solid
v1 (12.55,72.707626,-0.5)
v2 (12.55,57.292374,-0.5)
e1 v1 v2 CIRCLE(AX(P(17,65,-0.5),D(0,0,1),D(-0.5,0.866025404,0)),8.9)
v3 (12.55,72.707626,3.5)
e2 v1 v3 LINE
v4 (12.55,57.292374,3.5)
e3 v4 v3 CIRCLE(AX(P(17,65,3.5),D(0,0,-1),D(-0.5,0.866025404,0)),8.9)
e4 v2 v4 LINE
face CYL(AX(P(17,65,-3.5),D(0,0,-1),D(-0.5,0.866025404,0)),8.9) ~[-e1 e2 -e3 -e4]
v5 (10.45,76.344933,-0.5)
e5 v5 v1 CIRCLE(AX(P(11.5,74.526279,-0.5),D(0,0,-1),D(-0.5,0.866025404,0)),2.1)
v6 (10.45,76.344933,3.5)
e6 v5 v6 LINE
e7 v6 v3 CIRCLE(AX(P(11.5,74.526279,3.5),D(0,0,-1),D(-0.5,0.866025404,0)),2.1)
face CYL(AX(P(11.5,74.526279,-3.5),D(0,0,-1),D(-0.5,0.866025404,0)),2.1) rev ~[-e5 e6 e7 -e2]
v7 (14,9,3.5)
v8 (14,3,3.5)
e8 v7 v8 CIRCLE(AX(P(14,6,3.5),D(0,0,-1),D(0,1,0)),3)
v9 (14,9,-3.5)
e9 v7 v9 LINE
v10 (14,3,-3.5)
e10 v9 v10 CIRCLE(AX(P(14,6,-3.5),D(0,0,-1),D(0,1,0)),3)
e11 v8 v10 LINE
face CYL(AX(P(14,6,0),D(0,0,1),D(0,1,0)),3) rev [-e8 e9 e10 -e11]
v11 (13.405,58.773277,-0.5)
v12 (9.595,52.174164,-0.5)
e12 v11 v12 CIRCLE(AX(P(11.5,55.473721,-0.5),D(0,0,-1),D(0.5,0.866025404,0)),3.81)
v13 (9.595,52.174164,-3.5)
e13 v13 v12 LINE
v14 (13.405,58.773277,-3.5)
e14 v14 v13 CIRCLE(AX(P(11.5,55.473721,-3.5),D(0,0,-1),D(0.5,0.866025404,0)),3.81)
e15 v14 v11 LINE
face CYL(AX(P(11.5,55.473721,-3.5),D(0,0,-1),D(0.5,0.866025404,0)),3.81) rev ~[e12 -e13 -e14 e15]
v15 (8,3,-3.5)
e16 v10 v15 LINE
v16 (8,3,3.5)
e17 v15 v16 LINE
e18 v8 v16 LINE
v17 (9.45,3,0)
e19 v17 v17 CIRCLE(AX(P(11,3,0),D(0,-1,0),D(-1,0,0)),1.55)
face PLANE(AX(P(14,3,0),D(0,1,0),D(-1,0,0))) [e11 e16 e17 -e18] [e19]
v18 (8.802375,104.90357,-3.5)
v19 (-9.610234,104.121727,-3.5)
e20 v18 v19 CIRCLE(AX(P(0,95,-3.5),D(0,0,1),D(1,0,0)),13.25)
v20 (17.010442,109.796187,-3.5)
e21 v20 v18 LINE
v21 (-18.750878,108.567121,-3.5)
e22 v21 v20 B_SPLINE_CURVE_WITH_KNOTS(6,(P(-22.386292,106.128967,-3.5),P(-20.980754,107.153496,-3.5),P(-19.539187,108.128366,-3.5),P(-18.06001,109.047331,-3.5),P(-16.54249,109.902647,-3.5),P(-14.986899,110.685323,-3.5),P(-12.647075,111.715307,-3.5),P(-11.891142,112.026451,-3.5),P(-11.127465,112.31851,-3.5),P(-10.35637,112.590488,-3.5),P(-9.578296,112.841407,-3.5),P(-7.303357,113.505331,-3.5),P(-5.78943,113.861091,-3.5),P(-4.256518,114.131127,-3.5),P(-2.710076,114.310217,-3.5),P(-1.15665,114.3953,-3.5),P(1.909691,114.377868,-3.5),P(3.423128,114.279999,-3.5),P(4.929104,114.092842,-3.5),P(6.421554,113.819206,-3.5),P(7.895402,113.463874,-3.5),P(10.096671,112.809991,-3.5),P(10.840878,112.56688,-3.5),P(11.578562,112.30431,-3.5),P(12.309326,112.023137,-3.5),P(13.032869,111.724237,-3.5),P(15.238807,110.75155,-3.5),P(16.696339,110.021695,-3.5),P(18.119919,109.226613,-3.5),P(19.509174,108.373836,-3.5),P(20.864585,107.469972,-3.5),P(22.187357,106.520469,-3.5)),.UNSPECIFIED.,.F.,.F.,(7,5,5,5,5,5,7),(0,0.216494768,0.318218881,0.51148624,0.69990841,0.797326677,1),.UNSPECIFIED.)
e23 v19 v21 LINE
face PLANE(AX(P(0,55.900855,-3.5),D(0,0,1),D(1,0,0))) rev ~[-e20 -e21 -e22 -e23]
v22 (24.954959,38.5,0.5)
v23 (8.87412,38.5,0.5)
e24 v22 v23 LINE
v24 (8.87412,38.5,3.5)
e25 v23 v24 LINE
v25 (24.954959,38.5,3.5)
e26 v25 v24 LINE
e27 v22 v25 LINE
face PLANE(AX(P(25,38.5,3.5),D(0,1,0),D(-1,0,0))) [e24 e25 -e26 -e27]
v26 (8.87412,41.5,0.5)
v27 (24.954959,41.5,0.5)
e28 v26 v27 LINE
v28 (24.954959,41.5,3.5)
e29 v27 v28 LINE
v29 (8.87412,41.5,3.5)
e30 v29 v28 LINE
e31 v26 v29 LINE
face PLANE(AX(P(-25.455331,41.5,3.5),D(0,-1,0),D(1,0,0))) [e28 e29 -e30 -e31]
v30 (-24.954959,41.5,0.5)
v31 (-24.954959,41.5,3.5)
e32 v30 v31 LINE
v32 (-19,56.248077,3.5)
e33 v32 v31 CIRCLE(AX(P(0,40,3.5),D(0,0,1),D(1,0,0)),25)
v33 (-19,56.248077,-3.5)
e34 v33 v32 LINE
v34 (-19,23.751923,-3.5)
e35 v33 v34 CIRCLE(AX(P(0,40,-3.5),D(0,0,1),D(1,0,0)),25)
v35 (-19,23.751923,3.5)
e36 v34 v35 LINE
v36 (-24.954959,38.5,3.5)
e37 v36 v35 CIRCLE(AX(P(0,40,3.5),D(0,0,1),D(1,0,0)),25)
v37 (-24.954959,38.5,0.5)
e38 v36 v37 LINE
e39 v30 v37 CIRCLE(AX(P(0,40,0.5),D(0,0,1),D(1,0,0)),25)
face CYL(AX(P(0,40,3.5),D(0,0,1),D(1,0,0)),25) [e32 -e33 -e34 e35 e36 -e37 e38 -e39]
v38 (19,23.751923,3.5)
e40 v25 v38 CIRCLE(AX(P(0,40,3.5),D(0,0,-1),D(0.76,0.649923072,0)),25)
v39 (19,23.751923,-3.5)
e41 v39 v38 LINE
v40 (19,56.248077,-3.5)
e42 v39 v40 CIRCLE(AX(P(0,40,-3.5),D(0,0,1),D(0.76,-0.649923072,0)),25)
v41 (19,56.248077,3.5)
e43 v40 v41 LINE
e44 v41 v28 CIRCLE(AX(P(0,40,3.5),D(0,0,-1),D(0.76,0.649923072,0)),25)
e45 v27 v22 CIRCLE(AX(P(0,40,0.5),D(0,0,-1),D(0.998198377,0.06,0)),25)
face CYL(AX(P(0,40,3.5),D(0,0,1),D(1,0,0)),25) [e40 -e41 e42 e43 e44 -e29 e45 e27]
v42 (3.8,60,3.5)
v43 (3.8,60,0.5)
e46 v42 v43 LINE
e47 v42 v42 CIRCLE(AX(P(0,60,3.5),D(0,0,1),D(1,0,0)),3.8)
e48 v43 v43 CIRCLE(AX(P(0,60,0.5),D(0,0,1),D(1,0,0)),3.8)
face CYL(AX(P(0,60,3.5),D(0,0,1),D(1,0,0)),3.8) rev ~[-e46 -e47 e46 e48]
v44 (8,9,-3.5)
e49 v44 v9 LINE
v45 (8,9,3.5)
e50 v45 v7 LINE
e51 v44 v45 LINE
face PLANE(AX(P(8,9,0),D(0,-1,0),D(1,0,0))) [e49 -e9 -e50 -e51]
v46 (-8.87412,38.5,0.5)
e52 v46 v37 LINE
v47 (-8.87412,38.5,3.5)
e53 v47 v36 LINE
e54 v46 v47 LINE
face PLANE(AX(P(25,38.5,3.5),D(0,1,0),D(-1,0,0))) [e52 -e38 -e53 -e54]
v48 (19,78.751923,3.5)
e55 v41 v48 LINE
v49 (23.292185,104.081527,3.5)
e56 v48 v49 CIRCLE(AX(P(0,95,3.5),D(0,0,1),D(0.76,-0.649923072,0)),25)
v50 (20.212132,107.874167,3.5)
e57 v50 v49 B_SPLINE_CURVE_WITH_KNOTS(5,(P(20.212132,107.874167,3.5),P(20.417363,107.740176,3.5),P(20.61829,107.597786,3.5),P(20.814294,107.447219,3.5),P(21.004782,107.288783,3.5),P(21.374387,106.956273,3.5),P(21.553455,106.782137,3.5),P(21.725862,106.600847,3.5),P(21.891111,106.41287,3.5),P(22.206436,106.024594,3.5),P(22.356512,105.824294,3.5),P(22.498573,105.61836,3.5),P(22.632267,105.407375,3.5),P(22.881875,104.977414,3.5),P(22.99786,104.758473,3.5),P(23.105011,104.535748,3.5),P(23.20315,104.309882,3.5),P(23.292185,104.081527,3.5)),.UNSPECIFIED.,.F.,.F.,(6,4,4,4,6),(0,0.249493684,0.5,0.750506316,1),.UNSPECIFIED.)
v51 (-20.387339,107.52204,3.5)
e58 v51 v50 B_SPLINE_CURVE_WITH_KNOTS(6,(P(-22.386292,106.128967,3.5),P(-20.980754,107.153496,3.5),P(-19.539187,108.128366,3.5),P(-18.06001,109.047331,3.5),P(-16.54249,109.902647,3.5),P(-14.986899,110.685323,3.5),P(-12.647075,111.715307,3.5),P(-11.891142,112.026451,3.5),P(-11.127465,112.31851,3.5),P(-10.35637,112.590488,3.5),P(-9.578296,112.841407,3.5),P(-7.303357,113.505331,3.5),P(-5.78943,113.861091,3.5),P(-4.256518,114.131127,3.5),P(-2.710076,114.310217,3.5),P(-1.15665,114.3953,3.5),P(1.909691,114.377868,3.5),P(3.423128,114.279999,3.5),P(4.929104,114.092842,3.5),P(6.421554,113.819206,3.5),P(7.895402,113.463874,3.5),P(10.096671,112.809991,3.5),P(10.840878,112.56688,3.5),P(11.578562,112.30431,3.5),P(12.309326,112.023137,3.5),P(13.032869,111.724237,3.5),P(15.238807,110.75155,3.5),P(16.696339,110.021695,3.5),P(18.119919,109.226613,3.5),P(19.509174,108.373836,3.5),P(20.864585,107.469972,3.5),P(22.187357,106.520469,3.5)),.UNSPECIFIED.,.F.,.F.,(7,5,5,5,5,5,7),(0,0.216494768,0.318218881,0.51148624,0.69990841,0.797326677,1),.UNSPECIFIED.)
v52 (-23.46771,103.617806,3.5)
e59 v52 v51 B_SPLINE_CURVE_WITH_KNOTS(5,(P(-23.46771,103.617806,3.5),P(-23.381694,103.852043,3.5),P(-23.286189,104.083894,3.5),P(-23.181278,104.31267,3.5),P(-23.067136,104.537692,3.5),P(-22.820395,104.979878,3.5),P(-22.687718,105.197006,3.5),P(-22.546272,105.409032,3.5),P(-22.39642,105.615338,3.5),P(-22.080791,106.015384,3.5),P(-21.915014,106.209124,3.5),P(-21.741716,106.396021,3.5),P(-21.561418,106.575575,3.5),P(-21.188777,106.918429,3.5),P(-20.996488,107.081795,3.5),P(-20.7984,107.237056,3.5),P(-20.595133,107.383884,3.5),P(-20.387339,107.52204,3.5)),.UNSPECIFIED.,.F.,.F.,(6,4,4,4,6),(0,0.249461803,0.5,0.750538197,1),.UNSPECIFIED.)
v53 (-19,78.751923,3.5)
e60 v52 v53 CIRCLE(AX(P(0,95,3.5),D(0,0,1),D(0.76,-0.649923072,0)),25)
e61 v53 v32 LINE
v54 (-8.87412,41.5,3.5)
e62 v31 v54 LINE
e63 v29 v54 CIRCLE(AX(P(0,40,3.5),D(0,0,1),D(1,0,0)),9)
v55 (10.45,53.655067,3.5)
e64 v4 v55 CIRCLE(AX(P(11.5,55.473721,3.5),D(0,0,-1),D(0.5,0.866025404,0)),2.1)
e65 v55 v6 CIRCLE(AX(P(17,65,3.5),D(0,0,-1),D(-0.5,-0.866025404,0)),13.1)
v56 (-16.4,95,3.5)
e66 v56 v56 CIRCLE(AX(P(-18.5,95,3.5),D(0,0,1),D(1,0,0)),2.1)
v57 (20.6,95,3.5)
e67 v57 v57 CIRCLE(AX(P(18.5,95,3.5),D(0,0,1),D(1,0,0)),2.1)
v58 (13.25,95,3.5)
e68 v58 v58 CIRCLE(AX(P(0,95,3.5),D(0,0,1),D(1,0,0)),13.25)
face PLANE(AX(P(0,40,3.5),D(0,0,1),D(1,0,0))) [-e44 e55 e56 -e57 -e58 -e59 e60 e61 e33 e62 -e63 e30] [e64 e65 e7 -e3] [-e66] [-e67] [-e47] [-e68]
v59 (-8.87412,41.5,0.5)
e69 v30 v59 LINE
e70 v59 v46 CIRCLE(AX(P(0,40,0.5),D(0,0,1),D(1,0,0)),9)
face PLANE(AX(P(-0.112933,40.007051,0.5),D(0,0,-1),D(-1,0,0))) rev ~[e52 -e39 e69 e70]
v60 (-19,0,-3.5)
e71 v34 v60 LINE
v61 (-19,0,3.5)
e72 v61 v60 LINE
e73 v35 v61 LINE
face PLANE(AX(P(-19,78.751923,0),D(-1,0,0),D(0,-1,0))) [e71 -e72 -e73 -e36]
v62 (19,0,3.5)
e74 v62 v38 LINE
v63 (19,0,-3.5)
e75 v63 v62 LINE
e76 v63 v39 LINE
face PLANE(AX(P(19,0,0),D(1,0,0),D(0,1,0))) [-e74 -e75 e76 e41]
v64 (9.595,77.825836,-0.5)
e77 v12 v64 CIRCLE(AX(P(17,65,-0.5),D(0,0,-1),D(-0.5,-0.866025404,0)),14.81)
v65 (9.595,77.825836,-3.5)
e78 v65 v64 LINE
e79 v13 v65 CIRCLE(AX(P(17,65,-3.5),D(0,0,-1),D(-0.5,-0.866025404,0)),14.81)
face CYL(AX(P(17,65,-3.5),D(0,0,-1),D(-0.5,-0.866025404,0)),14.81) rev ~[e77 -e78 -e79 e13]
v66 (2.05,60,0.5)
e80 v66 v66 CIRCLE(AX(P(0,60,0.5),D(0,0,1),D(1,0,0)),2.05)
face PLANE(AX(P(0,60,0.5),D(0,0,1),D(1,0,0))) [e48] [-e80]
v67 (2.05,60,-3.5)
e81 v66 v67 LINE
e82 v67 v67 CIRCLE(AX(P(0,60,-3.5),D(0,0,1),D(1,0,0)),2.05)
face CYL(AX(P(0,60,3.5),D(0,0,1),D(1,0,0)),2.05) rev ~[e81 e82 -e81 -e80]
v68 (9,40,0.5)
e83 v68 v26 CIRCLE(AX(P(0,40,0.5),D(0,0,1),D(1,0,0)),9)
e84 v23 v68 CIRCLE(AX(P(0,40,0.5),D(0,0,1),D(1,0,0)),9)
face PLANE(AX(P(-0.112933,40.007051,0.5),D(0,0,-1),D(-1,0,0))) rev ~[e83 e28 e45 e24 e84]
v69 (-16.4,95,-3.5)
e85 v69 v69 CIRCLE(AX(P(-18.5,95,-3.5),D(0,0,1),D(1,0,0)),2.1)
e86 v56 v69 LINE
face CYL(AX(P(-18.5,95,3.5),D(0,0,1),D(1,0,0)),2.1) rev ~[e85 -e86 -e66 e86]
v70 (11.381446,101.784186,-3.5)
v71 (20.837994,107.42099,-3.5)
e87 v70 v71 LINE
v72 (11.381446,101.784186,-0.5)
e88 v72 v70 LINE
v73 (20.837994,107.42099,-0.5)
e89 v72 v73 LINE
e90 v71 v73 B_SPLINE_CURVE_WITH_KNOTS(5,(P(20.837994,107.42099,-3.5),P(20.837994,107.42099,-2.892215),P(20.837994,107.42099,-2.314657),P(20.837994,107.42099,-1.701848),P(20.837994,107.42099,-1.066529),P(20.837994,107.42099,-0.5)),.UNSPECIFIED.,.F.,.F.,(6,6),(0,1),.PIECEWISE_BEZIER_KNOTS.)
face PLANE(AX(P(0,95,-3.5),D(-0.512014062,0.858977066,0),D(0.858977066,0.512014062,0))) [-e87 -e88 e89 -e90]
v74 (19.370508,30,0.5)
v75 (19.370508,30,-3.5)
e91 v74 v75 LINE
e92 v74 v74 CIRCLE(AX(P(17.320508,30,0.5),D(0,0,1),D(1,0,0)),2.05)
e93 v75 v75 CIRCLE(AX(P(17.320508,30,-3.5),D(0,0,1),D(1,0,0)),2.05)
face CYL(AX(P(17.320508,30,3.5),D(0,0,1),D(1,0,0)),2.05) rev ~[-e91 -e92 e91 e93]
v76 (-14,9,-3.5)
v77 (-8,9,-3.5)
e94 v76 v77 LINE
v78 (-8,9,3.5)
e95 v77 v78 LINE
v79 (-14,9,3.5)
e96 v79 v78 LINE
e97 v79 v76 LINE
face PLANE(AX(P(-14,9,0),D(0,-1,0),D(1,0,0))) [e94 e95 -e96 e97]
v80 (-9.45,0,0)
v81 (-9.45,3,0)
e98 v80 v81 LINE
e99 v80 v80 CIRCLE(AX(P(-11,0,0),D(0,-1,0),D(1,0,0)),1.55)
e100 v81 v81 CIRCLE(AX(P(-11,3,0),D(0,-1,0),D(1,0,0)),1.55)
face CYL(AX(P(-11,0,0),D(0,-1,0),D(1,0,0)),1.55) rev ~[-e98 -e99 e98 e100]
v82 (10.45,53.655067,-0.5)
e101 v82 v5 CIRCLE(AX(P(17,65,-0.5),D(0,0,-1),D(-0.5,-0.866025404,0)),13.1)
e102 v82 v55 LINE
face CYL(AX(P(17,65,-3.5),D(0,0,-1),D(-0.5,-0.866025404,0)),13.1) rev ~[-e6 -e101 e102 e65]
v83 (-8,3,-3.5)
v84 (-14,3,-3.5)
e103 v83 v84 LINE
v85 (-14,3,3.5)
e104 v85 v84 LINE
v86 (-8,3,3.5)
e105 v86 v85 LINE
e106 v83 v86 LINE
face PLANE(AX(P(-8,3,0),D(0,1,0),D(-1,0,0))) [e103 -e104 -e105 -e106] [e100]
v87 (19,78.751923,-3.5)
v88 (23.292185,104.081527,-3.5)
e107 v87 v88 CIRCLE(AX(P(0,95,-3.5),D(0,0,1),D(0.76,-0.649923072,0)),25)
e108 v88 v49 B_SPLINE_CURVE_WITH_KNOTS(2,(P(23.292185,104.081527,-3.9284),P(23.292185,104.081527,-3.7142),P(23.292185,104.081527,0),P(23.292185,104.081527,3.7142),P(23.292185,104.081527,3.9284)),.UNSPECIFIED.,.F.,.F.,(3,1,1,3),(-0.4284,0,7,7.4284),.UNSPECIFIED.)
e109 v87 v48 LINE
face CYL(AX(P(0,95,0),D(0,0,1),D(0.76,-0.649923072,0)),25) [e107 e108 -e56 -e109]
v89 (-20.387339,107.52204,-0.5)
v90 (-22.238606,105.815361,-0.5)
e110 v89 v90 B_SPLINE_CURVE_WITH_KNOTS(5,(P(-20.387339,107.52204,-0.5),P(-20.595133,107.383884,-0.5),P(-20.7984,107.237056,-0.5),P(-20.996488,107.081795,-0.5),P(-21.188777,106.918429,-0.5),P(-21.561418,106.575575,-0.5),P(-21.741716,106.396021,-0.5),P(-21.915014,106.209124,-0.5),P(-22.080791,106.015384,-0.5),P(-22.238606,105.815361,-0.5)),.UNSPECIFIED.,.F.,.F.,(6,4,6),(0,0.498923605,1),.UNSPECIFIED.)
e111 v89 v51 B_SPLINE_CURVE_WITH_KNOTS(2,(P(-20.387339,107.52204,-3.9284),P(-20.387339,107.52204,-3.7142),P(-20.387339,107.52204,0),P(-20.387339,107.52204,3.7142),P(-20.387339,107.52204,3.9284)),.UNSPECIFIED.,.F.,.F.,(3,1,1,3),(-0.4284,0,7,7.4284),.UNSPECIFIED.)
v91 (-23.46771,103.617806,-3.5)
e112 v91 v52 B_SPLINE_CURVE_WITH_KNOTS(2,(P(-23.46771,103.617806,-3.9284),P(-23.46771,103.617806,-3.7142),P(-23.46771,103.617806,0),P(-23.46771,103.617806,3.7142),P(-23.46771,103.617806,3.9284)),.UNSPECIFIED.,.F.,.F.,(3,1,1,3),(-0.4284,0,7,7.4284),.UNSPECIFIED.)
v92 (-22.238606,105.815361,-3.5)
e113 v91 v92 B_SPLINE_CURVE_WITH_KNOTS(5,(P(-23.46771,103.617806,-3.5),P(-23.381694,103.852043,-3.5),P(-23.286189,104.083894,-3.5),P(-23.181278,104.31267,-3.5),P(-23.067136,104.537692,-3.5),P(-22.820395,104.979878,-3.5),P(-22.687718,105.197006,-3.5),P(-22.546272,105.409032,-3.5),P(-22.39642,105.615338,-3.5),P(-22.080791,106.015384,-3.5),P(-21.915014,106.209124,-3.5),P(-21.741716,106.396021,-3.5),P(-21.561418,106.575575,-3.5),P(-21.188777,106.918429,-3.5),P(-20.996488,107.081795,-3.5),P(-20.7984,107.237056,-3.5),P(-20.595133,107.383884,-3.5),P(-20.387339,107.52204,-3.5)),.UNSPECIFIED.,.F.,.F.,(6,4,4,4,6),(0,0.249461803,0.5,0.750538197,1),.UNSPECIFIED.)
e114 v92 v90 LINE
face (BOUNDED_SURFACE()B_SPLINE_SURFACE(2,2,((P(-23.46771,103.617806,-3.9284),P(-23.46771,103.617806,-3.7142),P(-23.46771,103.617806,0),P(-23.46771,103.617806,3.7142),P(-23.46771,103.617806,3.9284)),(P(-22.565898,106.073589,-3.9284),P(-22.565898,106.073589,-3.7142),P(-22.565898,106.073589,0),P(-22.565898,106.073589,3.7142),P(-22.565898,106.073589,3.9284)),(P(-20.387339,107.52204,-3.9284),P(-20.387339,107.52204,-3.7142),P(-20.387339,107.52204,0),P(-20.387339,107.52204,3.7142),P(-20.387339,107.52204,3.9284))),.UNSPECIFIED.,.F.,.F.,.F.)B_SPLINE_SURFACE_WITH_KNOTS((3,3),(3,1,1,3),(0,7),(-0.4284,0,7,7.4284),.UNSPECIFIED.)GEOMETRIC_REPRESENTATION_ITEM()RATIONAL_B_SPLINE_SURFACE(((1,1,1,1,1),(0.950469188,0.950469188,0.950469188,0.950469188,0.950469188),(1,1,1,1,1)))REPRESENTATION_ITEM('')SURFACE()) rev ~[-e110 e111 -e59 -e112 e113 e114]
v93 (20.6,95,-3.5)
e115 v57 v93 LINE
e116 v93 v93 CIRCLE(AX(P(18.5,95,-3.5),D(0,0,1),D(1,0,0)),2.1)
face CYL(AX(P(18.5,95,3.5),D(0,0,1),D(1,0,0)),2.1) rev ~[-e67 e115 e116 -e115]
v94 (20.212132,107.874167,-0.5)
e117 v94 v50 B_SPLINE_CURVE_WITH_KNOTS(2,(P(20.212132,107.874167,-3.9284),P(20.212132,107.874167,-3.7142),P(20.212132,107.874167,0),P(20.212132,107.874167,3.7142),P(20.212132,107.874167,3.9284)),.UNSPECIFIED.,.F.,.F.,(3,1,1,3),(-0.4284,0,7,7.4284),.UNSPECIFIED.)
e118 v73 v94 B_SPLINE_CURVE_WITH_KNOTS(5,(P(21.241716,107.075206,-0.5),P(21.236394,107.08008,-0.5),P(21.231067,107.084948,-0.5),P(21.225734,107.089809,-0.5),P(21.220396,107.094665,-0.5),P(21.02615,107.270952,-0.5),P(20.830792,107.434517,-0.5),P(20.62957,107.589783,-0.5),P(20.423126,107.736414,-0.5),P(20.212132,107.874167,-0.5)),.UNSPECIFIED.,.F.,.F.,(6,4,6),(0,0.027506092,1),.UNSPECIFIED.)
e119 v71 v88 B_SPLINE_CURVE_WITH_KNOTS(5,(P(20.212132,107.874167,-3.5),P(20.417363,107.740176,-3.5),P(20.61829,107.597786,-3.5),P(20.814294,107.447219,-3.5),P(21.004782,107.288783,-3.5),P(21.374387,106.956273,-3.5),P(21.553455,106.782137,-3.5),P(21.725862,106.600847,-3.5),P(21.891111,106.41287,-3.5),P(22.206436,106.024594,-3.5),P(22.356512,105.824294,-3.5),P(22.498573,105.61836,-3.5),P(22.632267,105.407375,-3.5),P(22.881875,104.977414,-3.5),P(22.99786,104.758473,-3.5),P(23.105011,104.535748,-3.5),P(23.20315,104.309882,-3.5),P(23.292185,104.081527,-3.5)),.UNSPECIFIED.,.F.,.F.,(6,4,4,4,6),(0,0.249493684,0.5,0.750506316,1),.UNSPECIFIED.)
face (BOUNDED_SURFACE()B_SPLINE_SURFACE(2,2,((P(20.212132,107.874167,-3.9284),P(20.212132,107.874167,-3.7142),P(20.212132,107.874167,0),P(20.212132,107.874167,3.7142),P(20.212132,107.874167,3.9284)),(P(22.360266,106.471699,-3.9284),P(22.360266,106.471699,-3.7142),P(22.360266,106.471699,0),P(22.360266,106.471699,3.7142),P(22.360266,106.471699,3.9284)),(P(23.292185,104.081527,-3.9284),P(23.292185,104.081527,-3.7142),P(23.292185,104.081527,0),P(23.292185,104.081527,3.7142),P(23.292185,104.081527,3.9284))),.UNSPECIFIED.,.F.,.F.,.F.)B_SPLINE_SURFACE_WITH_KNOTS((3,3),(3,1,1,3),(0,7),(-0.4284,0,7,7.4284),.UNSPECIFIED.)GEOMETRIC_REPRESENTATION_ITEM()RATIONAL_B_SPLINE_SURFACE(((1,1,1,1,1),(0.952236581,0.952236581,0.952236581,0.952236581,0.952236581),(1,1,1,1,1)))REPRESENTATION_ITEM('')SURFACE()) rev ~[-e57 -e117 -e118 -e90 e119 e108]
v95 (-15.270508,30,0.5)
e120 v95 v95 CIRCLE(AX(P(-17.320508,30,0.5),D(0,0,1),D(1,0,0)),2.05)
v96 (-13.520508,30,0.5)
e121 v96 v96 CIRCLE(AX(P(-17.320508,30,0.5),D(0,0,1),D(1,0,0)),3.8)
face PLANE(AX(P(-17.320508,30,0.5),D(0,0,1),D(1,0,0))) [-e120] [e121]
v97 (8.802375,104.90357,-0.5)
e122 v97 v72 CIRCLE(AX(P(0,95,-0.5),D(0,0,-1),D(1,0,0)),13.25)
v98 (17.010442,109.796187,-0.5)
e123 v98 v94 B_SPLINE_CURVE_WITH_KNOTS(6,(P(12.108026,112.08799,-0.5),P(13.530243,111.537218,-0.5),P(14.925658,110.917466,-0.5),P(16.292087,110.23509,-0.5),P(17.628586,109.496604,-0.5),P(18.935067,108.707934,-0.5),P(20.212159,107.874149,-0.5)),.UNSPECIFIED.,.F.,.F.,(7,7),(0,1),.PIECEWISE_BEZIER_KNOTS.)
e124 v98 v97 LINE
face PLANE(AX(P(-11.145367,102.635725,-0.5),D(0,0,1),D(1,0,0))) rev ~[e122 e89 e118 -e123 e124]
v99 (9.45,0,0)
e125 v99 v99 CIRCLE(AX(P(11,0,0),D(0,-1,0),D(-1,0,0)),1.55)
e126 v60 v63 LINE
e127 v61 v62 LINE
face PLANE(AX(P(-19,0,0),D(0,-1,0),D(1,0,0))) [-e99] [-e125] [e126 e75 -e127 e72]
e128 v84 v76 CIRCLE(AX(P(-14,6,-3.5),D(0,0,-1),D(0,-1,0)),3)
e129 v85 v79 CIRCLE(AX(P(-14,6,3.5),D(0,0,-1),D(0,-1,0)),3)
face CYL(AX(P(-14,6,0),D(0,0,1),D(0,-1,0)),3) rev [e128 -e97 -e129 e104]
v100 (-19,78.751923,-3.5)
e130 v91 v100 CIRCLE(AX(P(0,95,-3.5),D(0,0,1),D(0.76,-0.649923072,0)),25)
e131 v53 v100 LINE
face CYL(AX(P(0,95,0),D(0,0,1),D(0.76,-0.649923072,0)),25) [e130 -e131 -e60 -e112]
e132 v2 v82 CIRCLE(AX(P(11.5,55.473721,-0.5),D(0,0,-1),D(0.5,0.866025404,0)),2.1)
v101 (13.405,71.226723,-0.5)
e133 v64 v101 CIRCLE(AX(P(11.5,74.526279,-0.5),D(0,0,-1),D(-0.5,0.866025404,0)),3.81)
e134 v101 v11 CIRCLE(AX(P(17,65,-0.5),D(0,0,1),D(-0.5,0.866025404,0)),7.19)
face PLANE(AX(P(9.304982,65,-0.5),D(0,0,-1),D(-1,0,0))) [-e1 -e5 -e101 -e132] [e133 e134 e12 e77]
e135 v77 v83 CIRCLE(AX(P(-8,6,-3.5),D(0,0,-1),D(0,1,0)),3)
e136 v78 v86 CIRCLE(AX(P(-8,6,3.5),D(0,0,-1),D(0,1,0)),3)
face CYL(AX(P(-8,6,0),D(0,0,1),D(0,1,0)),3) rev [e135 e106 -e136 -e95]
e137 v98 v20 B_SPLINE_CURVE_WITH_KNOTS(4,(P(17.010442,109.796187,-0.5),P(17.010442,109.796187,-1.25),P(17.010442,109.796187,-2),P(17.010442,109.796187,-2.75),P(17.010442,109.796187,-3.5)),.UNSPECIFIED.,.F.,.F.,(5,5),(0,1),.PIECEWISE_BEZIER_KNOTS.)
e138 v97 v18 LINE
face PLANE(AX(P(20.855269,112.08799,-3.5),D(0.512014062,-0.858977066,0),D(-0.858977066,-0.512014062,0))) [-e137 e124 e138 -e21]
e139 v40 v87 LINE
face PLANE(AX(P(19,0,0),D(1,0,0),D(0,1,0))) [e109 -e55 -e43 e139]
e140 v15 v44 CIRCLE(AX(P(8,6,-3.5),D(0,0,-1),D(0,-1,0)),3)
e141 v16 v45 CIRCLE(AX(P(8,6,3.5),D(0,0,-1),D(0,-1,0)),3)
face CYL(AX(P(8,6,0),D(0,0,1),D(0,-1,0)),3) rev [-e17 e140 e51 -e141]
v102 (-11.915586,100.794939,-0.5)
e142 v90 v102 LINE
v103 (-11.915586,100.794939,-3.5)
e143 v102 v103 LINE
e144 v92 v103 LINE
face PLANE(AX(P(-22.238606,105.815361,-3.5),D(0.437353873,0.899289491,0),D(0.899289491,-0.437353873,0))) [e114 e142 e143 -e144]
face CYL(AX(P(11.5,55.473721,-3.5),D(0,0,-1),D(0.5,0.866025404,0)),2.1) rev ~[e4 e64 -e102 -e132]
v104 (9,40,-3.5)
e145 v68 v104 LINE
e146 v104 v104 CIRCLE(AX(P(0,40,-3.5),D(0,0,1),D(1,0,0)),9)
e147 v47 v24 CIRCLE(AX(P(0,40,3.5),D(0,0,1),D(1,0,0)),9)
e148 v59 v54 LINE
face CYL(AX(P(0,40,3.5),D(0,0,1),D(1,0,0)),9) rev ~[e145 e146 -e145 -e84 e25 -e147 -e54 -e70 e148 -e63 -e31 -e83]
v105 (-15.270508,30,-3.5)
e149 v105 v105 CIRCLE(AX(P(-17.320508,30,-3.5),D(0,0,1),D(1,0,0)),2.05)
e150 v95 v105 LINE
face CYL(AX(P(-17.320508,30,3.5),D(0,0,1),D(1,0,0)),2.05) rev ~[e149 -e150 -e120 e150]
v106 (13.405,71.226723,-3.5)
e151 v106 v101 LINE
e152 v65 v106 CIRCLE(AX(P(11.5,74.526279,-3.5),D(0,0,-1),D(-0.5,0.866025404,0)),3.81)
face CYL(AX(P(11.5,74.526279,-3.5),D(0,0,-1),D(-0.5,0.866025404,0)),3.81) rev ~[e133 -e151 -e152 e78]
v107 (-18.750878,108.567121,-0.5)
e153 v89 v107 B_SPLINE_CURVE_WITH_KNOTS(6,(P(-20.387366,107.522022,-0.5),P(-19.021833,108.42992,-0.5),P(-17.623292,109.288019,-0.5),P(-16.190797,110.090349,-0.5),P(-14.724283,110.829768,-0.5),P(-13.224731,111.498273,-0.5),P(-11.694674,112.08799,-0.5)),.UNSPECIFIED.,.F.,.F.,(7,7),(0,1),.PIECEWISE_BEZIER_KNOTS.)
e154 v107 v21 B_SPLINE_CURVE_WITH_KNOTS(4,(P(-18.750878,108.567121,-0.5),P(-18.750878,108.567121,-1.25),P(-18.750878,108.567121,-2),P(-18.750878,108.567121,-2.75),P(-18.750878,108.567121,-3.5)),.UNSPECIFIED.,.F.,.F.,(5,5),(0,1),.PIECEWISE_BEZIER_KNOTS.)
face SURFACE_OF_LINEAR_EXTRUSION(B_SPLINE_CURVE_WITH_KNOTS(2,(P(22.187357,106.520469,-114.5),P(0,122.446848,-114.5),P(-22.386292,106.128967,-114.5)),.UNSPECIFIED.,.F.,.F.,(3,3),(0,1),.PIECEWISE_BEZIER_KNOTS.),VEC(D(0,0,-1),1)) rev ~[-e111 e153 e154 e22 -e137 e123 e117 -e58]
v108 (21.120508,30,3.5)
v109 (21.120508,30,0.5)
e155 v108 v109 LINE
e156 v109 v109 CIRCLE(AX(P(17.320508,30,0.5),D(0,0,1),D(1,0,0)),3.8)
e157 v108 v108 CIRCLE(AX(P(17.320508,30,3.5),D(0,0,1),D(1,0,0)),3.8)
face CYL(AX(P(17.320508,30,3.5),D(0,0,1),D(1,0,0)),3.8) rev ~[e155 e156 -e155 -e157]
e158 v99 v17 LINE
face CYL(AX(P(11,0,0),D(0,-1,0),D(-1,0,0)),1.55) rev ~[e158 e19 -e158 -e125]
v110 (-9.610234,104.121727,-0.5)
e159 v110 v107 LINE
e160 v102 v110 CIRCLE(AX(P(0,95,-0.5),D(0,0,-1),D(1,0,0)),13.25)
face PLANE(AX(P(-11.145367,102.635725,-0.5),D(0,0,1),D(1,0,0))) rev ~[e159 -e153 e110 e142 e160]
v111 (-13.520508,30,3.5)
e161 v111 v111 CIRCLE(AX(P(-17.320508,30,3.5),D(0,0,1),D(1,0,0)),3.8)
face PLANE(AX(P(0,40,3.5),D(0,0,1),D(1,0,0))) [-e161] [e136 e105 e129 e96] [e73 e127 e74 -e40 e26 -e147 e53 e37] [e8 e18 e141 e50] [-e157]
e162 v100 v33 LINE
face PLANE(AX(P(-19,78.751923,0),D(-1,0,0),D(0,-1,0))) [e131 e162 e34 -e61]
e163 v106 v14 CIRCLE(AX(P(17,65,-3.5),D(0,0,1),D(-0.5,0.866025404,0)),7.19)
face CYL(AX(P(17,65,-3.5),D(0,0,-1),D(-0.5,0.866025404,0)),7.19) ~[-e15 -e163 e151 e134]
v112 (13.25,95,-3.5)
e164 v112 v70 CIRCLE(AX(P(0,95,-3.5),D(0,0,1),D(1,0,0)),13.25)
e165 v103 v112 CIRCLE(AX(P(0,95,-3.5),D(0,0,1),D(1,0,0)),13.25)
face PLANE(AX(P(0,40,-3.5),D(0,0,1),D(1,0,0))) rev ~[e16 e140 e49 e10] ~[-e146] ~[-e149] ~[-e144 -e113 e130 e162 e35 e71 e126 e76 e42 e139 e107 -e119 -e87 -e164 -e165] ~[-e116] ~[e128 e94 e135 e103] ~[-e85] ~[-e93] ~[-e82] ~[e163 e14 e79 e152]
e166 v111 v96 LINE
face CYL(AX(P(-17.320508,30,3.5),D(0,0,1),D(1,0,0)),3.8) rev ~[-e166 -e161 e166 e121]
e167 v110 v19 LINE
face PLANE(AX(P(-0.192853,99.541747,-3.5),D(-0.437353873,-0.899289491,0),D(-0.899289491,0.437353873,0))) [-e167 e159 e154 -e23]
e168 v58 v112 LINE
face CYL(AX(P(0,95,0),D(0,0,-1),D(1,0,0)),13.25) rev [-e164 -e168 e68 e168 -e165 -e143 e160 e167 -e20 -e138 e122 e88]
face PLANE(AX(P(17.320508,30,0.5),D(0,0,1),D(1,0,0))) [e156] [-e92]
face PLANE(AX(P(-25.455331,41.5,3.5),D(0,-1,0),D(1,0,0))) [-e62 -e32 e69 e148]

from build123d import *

# Parameters (mm, degrees)
SKETCH_1_R          = 13.25
EXTRUDE_1_DEPTH     = 3.5
SKETCH4_R           = 1.55
CUT_EXTRUDE5_DEPTH  = 5
SKETCH_2_R          = 2.1
CUT_EXTRUDE_1_DEPTH = 10
CUT_EXTRUDE_2_DEPTH = 171.144056611
FILLET_1_R          = 8
CUT_EXTRUDE_3_DEPTH = 3
SKETCH_6_R          = 25
EXTRUDE_2_DEPTH     = 7
SKETCH_7_R          = 9
SKETCH_7_R_2        = 2.05
CUT_EXTRUDE_4_DEPTH = 30
CUT_EXTRUDE_5_DEPTH = 3
SKETCH_11_R         = 3.8
SKETCH_11_R_2       = 2.05
CUT_EXTRUDE_8_DEPTH = 3
CUT_EXTRUDE_6_DEPTH = 10
CUT_EXTRUDE_7_DEPTH = 3


with BuildPart() as part:
    # 草图1 → 凸台-拉伸1 (new, symmetric)
    with BuildSketch(Plane.XY):
        with BuildLine():
            Line((-19, 0), (19, 0))
            Line((19, 0), (19, 78.751923191))
            ThreePointArc((19, 78.751923191), (0, 120), (-19, 78.751923191))
            Line((-19, 78.751923191), (-19, 0))
        make_face()
        with BuildLine():
            ThreePointArc((-8, 9), (-5, 6), (-8, 3))
            Line((-8, 3), (-14, 3))
            ThreePointArc((-14, 3), (-17, 6), (-14, 9))
            Line((-14, 9), (-8, 9))
        make_face(mode=Mode.SUBTRACT)
        with BuildLine():
            ThreePointArc((8, 3), (5, 6), (8, 9))
            Line((8, 9), (14, 9))
            ThreePointArc((14, 9), (17, 6), (14, 3))
            Line((14, 3), (8, 3))
        make_face(mode=Mode.SUBTRACT)
        with Locations((0, 95)):
            Circle(SKETCH_1_R, mode=Mode.SUBTRACT)
    extrude(amount=EXTRUDE_1_DEPTH, both=True)

    # Sketch4 → Cut-Extrude5 (cut)
    with BuildSketch(Plane(origin=(0, 0, 0), x_dir=(-1, 0, 0), z_dir=(0, -1, 0))):
        with Locations(Location((11, 0, 0), (0, 0, 180))):
            Circle(SKETCH4_R)
        with Locations((-11, 0)):
            Circle(SKETCH4_R)
    extrude(amount=-CUT_EXTRUDE5_DEPTH, mode=Mode.SUBTRACT)

    # 草图2 → 切除-拉伸1 (cut)
    with BuildSketch(Plane.XY.offset(3.5)):
        with Locations((-18.5, 95)):
            Circle(SKETCH_2_R)
        with Locations((18.5, 95)):
            Circle(SKETCH_2_R)
    extrude(amount=-CUT_EXTRUDE_1_DEPTH, mode=Mode.SUBTRACT)

    # 草图4 → 切除-拉伸2 (cut, through all)
    with BuildSketch(Plane(origin=(0, 0, -114.5), x_dir=(-1, 0, 0), z_dir=(0, 0, -1))):
        with BuildLine():
            ThreePointArc((22.386292421, 106.128967232), (0.219572962, 119.999035736), (-22.187356595, 106.520469059))
            add(Edge.make_bspline(
                [(-22.187356595, 106.520469059), (0, 122.446847778), (22.386292421, 106.128967232)],
                knots=[0, 0, 0, 1, 1, 1], degree=2))
        make_face()
    extrude(amount=-CUT_EXTRUDE_2_DEPTH, mode=Mode.SUBTRACT)

    # 圆角1
    fillet_1_edges = [part.edges().sort_by_distance(p)[0] for p in [
        (-22.386292421, 106.128967232, 0),
        (22.187356595, 106.520469059, 0),
    ]]
    fillet(fillet_1_edges, radius=FILLET_1_R)

    # 草图5 → 切除-拉伸3 (cut)
    with BuildSketch(Plane.XY.offset(-3.5)):
        Polygon((-22.238605802, 105.815360884), (0, 95), (-0.192853393, 99.54174681), (-22.228779927, 110.258538141), align=None)
        Polygon((-0.192853393, 99.54174681), (0, 95), (21.241716437, 107.661638988), (20.855269273, 112.087989547), align=None)
    extrude(amount=CUT_EXTRUDE_3_DEPTH, mode=Mode.SUBTRACT)

    # 草图6 → 凸台-拉伸2 (add)
    with BuildSketch(Plane.XY.offset(3.5)):
        with Locations((0, 40)):
            Circle(SKETCH_6_R)
    extrude(amount=-EXTRUDE_2_DEPTH)

    # 草图7 → 切除-拉伸4 (cut)
    with BuildSketch(Plane.XY.offset(3.5)):
        with Locations((0, 40)):
            Circle(SKETCH_7_R)
        with Locations((0, 60)):
            Circle(SKETCH_7_R_2)
        with Locations((17.320508076, 30)):
            Circle(SKETCH_7_R_2)
        with Locations((-17.320508076, 30)):
            Circle(SKETCH_7_R_2)
    extrude(amount=-CUT_EXTRUDE_4_DEPTH, mode=Mode.SUBTRACT)

    # 草图8 → 切除-拉伸5 (cut)
    with BuildSketch(Plane(origin=(0, 0, 3.5), x_dir=(-1, 0, 0), z_dir=(0, 0, -1))):
        Polygon((-25, 41.5), (-25, 38.5), (24.954959427, 38.5), (25.455331414, 41.5), align=None)
    extrude(amount=CUT_EXTRUDE_5_DEPTH, mode=Mode.SUBTRACT)

    # 草图11 → 切除-拉伸8 (cut)
    # profile 1 of 3: a face of its own
    with BuildSketch(Plane.XY.offset(3.5)):
        with Locations((0, 60)):
            Circle(SKETCH_11_R)
        with Locations((0, 60)):
            Circle(SKETCH_11_R_2, mode=Mode.SUBTRACT)
    # profile 2 of 3: a face of its own
    with BuildSketch(Plane.XY.offset(3.5)):
        with Locations((-17.320508076, 30)):
            Circle(SKETCH_11_R)
        with Locations((-17.320508076, 30)):
            Circle(SKETCH_11_R_2, mode=Mode.SUBTRACT)
    # profile 3 of 3: a face of its own
    with BuildSketch(Plane.XY.offset(3.5)):
        with Locations((17.320508076, 30)):
            Circle(SKETCH_11_R)
        with Locations((17.320508076, 30)):
            Circle(SKETCH_11_R_2, mode=Mode.SUBTRACT)
    extrude(amount=-CUT_EXTRUDE_8_DEPTH, mode=Mode.SUBTRACT)

    # 草图9 → 切除-拉伸6 (cut)
    with BuildSketch(Plane(origin=(0, 0, -3.5), x_dir=(-1, 0, 0), z_dir=(0, 0, -1))):
        with BuildLine():
            ThreePointArc((-10.45, 53.65506721), (-3.9, 65), (-10.45, 76.34493279))
            ThreePointArc((-10.45, 76.34493279), (-13.318653348, 75.576279442), (-12.55, 72.707626094))
            ThreePointArc((-12.55, 72.707626094), (-8.1, 65), (-12.55, 57.292373906))
            ThreePointArc((-12.55, 57.292373906), (-13.318653348, 54.423720558), (-10.45, 53.65506721))
        make_face()
    extrude(amount=-CUT_EXTRUDE_6_DEPTH, mode=Mode.SUBTRACT)

    # 草图10 → 切除-拉伸7 (cut)
    with BuildSketch(Plane(origin=(0, 0, -3.5), x_dir=(-1, 0, 0), z_dir=(0, 0, -1))):
        with BuildLine():
            ThreePointArc((-9.595, 52.17416377), (-2.19, 65), (-9.595, 77.82583623))
            ThreePointArc((-9.595, 77.82583623), (-14.799556788, 76.431279442), (-13.405, 71.226722653))
            ThreePointArc((-13.405, 71.226722653), (-9.81, 65), (-13.405, 58.773277347))
            ThreePointArc((-13.405, 58.773277347), (-14.799556788, 53.568720558), (-9.595, 52.17416377))
        make_face()
        with BuildLine():
            ThreePointArc((-12.55, 57.292373906), (-13.318653348, 54.423720558), (-10.45, 53.65506721))
            ThreePointArc((-10.45, 53.65506721), (-3.9, 65), (-10.45, 76.34493279))
            ThreePointArc((-10.45, 76.34493279), (-13.318653348, 75.576279442), (-12.55, 72.707626094))
            ThreePointArc((-12.55, 72.707626094), (-8.1, 65), (-12.55, 57.292373906))
        make_face(mode=Mode.SUBTRACT)
    extrude(amount=-CUT_EXTRUDE_7_DEPTH, mode=Mode.SUBTRACT)


solid = part.part
